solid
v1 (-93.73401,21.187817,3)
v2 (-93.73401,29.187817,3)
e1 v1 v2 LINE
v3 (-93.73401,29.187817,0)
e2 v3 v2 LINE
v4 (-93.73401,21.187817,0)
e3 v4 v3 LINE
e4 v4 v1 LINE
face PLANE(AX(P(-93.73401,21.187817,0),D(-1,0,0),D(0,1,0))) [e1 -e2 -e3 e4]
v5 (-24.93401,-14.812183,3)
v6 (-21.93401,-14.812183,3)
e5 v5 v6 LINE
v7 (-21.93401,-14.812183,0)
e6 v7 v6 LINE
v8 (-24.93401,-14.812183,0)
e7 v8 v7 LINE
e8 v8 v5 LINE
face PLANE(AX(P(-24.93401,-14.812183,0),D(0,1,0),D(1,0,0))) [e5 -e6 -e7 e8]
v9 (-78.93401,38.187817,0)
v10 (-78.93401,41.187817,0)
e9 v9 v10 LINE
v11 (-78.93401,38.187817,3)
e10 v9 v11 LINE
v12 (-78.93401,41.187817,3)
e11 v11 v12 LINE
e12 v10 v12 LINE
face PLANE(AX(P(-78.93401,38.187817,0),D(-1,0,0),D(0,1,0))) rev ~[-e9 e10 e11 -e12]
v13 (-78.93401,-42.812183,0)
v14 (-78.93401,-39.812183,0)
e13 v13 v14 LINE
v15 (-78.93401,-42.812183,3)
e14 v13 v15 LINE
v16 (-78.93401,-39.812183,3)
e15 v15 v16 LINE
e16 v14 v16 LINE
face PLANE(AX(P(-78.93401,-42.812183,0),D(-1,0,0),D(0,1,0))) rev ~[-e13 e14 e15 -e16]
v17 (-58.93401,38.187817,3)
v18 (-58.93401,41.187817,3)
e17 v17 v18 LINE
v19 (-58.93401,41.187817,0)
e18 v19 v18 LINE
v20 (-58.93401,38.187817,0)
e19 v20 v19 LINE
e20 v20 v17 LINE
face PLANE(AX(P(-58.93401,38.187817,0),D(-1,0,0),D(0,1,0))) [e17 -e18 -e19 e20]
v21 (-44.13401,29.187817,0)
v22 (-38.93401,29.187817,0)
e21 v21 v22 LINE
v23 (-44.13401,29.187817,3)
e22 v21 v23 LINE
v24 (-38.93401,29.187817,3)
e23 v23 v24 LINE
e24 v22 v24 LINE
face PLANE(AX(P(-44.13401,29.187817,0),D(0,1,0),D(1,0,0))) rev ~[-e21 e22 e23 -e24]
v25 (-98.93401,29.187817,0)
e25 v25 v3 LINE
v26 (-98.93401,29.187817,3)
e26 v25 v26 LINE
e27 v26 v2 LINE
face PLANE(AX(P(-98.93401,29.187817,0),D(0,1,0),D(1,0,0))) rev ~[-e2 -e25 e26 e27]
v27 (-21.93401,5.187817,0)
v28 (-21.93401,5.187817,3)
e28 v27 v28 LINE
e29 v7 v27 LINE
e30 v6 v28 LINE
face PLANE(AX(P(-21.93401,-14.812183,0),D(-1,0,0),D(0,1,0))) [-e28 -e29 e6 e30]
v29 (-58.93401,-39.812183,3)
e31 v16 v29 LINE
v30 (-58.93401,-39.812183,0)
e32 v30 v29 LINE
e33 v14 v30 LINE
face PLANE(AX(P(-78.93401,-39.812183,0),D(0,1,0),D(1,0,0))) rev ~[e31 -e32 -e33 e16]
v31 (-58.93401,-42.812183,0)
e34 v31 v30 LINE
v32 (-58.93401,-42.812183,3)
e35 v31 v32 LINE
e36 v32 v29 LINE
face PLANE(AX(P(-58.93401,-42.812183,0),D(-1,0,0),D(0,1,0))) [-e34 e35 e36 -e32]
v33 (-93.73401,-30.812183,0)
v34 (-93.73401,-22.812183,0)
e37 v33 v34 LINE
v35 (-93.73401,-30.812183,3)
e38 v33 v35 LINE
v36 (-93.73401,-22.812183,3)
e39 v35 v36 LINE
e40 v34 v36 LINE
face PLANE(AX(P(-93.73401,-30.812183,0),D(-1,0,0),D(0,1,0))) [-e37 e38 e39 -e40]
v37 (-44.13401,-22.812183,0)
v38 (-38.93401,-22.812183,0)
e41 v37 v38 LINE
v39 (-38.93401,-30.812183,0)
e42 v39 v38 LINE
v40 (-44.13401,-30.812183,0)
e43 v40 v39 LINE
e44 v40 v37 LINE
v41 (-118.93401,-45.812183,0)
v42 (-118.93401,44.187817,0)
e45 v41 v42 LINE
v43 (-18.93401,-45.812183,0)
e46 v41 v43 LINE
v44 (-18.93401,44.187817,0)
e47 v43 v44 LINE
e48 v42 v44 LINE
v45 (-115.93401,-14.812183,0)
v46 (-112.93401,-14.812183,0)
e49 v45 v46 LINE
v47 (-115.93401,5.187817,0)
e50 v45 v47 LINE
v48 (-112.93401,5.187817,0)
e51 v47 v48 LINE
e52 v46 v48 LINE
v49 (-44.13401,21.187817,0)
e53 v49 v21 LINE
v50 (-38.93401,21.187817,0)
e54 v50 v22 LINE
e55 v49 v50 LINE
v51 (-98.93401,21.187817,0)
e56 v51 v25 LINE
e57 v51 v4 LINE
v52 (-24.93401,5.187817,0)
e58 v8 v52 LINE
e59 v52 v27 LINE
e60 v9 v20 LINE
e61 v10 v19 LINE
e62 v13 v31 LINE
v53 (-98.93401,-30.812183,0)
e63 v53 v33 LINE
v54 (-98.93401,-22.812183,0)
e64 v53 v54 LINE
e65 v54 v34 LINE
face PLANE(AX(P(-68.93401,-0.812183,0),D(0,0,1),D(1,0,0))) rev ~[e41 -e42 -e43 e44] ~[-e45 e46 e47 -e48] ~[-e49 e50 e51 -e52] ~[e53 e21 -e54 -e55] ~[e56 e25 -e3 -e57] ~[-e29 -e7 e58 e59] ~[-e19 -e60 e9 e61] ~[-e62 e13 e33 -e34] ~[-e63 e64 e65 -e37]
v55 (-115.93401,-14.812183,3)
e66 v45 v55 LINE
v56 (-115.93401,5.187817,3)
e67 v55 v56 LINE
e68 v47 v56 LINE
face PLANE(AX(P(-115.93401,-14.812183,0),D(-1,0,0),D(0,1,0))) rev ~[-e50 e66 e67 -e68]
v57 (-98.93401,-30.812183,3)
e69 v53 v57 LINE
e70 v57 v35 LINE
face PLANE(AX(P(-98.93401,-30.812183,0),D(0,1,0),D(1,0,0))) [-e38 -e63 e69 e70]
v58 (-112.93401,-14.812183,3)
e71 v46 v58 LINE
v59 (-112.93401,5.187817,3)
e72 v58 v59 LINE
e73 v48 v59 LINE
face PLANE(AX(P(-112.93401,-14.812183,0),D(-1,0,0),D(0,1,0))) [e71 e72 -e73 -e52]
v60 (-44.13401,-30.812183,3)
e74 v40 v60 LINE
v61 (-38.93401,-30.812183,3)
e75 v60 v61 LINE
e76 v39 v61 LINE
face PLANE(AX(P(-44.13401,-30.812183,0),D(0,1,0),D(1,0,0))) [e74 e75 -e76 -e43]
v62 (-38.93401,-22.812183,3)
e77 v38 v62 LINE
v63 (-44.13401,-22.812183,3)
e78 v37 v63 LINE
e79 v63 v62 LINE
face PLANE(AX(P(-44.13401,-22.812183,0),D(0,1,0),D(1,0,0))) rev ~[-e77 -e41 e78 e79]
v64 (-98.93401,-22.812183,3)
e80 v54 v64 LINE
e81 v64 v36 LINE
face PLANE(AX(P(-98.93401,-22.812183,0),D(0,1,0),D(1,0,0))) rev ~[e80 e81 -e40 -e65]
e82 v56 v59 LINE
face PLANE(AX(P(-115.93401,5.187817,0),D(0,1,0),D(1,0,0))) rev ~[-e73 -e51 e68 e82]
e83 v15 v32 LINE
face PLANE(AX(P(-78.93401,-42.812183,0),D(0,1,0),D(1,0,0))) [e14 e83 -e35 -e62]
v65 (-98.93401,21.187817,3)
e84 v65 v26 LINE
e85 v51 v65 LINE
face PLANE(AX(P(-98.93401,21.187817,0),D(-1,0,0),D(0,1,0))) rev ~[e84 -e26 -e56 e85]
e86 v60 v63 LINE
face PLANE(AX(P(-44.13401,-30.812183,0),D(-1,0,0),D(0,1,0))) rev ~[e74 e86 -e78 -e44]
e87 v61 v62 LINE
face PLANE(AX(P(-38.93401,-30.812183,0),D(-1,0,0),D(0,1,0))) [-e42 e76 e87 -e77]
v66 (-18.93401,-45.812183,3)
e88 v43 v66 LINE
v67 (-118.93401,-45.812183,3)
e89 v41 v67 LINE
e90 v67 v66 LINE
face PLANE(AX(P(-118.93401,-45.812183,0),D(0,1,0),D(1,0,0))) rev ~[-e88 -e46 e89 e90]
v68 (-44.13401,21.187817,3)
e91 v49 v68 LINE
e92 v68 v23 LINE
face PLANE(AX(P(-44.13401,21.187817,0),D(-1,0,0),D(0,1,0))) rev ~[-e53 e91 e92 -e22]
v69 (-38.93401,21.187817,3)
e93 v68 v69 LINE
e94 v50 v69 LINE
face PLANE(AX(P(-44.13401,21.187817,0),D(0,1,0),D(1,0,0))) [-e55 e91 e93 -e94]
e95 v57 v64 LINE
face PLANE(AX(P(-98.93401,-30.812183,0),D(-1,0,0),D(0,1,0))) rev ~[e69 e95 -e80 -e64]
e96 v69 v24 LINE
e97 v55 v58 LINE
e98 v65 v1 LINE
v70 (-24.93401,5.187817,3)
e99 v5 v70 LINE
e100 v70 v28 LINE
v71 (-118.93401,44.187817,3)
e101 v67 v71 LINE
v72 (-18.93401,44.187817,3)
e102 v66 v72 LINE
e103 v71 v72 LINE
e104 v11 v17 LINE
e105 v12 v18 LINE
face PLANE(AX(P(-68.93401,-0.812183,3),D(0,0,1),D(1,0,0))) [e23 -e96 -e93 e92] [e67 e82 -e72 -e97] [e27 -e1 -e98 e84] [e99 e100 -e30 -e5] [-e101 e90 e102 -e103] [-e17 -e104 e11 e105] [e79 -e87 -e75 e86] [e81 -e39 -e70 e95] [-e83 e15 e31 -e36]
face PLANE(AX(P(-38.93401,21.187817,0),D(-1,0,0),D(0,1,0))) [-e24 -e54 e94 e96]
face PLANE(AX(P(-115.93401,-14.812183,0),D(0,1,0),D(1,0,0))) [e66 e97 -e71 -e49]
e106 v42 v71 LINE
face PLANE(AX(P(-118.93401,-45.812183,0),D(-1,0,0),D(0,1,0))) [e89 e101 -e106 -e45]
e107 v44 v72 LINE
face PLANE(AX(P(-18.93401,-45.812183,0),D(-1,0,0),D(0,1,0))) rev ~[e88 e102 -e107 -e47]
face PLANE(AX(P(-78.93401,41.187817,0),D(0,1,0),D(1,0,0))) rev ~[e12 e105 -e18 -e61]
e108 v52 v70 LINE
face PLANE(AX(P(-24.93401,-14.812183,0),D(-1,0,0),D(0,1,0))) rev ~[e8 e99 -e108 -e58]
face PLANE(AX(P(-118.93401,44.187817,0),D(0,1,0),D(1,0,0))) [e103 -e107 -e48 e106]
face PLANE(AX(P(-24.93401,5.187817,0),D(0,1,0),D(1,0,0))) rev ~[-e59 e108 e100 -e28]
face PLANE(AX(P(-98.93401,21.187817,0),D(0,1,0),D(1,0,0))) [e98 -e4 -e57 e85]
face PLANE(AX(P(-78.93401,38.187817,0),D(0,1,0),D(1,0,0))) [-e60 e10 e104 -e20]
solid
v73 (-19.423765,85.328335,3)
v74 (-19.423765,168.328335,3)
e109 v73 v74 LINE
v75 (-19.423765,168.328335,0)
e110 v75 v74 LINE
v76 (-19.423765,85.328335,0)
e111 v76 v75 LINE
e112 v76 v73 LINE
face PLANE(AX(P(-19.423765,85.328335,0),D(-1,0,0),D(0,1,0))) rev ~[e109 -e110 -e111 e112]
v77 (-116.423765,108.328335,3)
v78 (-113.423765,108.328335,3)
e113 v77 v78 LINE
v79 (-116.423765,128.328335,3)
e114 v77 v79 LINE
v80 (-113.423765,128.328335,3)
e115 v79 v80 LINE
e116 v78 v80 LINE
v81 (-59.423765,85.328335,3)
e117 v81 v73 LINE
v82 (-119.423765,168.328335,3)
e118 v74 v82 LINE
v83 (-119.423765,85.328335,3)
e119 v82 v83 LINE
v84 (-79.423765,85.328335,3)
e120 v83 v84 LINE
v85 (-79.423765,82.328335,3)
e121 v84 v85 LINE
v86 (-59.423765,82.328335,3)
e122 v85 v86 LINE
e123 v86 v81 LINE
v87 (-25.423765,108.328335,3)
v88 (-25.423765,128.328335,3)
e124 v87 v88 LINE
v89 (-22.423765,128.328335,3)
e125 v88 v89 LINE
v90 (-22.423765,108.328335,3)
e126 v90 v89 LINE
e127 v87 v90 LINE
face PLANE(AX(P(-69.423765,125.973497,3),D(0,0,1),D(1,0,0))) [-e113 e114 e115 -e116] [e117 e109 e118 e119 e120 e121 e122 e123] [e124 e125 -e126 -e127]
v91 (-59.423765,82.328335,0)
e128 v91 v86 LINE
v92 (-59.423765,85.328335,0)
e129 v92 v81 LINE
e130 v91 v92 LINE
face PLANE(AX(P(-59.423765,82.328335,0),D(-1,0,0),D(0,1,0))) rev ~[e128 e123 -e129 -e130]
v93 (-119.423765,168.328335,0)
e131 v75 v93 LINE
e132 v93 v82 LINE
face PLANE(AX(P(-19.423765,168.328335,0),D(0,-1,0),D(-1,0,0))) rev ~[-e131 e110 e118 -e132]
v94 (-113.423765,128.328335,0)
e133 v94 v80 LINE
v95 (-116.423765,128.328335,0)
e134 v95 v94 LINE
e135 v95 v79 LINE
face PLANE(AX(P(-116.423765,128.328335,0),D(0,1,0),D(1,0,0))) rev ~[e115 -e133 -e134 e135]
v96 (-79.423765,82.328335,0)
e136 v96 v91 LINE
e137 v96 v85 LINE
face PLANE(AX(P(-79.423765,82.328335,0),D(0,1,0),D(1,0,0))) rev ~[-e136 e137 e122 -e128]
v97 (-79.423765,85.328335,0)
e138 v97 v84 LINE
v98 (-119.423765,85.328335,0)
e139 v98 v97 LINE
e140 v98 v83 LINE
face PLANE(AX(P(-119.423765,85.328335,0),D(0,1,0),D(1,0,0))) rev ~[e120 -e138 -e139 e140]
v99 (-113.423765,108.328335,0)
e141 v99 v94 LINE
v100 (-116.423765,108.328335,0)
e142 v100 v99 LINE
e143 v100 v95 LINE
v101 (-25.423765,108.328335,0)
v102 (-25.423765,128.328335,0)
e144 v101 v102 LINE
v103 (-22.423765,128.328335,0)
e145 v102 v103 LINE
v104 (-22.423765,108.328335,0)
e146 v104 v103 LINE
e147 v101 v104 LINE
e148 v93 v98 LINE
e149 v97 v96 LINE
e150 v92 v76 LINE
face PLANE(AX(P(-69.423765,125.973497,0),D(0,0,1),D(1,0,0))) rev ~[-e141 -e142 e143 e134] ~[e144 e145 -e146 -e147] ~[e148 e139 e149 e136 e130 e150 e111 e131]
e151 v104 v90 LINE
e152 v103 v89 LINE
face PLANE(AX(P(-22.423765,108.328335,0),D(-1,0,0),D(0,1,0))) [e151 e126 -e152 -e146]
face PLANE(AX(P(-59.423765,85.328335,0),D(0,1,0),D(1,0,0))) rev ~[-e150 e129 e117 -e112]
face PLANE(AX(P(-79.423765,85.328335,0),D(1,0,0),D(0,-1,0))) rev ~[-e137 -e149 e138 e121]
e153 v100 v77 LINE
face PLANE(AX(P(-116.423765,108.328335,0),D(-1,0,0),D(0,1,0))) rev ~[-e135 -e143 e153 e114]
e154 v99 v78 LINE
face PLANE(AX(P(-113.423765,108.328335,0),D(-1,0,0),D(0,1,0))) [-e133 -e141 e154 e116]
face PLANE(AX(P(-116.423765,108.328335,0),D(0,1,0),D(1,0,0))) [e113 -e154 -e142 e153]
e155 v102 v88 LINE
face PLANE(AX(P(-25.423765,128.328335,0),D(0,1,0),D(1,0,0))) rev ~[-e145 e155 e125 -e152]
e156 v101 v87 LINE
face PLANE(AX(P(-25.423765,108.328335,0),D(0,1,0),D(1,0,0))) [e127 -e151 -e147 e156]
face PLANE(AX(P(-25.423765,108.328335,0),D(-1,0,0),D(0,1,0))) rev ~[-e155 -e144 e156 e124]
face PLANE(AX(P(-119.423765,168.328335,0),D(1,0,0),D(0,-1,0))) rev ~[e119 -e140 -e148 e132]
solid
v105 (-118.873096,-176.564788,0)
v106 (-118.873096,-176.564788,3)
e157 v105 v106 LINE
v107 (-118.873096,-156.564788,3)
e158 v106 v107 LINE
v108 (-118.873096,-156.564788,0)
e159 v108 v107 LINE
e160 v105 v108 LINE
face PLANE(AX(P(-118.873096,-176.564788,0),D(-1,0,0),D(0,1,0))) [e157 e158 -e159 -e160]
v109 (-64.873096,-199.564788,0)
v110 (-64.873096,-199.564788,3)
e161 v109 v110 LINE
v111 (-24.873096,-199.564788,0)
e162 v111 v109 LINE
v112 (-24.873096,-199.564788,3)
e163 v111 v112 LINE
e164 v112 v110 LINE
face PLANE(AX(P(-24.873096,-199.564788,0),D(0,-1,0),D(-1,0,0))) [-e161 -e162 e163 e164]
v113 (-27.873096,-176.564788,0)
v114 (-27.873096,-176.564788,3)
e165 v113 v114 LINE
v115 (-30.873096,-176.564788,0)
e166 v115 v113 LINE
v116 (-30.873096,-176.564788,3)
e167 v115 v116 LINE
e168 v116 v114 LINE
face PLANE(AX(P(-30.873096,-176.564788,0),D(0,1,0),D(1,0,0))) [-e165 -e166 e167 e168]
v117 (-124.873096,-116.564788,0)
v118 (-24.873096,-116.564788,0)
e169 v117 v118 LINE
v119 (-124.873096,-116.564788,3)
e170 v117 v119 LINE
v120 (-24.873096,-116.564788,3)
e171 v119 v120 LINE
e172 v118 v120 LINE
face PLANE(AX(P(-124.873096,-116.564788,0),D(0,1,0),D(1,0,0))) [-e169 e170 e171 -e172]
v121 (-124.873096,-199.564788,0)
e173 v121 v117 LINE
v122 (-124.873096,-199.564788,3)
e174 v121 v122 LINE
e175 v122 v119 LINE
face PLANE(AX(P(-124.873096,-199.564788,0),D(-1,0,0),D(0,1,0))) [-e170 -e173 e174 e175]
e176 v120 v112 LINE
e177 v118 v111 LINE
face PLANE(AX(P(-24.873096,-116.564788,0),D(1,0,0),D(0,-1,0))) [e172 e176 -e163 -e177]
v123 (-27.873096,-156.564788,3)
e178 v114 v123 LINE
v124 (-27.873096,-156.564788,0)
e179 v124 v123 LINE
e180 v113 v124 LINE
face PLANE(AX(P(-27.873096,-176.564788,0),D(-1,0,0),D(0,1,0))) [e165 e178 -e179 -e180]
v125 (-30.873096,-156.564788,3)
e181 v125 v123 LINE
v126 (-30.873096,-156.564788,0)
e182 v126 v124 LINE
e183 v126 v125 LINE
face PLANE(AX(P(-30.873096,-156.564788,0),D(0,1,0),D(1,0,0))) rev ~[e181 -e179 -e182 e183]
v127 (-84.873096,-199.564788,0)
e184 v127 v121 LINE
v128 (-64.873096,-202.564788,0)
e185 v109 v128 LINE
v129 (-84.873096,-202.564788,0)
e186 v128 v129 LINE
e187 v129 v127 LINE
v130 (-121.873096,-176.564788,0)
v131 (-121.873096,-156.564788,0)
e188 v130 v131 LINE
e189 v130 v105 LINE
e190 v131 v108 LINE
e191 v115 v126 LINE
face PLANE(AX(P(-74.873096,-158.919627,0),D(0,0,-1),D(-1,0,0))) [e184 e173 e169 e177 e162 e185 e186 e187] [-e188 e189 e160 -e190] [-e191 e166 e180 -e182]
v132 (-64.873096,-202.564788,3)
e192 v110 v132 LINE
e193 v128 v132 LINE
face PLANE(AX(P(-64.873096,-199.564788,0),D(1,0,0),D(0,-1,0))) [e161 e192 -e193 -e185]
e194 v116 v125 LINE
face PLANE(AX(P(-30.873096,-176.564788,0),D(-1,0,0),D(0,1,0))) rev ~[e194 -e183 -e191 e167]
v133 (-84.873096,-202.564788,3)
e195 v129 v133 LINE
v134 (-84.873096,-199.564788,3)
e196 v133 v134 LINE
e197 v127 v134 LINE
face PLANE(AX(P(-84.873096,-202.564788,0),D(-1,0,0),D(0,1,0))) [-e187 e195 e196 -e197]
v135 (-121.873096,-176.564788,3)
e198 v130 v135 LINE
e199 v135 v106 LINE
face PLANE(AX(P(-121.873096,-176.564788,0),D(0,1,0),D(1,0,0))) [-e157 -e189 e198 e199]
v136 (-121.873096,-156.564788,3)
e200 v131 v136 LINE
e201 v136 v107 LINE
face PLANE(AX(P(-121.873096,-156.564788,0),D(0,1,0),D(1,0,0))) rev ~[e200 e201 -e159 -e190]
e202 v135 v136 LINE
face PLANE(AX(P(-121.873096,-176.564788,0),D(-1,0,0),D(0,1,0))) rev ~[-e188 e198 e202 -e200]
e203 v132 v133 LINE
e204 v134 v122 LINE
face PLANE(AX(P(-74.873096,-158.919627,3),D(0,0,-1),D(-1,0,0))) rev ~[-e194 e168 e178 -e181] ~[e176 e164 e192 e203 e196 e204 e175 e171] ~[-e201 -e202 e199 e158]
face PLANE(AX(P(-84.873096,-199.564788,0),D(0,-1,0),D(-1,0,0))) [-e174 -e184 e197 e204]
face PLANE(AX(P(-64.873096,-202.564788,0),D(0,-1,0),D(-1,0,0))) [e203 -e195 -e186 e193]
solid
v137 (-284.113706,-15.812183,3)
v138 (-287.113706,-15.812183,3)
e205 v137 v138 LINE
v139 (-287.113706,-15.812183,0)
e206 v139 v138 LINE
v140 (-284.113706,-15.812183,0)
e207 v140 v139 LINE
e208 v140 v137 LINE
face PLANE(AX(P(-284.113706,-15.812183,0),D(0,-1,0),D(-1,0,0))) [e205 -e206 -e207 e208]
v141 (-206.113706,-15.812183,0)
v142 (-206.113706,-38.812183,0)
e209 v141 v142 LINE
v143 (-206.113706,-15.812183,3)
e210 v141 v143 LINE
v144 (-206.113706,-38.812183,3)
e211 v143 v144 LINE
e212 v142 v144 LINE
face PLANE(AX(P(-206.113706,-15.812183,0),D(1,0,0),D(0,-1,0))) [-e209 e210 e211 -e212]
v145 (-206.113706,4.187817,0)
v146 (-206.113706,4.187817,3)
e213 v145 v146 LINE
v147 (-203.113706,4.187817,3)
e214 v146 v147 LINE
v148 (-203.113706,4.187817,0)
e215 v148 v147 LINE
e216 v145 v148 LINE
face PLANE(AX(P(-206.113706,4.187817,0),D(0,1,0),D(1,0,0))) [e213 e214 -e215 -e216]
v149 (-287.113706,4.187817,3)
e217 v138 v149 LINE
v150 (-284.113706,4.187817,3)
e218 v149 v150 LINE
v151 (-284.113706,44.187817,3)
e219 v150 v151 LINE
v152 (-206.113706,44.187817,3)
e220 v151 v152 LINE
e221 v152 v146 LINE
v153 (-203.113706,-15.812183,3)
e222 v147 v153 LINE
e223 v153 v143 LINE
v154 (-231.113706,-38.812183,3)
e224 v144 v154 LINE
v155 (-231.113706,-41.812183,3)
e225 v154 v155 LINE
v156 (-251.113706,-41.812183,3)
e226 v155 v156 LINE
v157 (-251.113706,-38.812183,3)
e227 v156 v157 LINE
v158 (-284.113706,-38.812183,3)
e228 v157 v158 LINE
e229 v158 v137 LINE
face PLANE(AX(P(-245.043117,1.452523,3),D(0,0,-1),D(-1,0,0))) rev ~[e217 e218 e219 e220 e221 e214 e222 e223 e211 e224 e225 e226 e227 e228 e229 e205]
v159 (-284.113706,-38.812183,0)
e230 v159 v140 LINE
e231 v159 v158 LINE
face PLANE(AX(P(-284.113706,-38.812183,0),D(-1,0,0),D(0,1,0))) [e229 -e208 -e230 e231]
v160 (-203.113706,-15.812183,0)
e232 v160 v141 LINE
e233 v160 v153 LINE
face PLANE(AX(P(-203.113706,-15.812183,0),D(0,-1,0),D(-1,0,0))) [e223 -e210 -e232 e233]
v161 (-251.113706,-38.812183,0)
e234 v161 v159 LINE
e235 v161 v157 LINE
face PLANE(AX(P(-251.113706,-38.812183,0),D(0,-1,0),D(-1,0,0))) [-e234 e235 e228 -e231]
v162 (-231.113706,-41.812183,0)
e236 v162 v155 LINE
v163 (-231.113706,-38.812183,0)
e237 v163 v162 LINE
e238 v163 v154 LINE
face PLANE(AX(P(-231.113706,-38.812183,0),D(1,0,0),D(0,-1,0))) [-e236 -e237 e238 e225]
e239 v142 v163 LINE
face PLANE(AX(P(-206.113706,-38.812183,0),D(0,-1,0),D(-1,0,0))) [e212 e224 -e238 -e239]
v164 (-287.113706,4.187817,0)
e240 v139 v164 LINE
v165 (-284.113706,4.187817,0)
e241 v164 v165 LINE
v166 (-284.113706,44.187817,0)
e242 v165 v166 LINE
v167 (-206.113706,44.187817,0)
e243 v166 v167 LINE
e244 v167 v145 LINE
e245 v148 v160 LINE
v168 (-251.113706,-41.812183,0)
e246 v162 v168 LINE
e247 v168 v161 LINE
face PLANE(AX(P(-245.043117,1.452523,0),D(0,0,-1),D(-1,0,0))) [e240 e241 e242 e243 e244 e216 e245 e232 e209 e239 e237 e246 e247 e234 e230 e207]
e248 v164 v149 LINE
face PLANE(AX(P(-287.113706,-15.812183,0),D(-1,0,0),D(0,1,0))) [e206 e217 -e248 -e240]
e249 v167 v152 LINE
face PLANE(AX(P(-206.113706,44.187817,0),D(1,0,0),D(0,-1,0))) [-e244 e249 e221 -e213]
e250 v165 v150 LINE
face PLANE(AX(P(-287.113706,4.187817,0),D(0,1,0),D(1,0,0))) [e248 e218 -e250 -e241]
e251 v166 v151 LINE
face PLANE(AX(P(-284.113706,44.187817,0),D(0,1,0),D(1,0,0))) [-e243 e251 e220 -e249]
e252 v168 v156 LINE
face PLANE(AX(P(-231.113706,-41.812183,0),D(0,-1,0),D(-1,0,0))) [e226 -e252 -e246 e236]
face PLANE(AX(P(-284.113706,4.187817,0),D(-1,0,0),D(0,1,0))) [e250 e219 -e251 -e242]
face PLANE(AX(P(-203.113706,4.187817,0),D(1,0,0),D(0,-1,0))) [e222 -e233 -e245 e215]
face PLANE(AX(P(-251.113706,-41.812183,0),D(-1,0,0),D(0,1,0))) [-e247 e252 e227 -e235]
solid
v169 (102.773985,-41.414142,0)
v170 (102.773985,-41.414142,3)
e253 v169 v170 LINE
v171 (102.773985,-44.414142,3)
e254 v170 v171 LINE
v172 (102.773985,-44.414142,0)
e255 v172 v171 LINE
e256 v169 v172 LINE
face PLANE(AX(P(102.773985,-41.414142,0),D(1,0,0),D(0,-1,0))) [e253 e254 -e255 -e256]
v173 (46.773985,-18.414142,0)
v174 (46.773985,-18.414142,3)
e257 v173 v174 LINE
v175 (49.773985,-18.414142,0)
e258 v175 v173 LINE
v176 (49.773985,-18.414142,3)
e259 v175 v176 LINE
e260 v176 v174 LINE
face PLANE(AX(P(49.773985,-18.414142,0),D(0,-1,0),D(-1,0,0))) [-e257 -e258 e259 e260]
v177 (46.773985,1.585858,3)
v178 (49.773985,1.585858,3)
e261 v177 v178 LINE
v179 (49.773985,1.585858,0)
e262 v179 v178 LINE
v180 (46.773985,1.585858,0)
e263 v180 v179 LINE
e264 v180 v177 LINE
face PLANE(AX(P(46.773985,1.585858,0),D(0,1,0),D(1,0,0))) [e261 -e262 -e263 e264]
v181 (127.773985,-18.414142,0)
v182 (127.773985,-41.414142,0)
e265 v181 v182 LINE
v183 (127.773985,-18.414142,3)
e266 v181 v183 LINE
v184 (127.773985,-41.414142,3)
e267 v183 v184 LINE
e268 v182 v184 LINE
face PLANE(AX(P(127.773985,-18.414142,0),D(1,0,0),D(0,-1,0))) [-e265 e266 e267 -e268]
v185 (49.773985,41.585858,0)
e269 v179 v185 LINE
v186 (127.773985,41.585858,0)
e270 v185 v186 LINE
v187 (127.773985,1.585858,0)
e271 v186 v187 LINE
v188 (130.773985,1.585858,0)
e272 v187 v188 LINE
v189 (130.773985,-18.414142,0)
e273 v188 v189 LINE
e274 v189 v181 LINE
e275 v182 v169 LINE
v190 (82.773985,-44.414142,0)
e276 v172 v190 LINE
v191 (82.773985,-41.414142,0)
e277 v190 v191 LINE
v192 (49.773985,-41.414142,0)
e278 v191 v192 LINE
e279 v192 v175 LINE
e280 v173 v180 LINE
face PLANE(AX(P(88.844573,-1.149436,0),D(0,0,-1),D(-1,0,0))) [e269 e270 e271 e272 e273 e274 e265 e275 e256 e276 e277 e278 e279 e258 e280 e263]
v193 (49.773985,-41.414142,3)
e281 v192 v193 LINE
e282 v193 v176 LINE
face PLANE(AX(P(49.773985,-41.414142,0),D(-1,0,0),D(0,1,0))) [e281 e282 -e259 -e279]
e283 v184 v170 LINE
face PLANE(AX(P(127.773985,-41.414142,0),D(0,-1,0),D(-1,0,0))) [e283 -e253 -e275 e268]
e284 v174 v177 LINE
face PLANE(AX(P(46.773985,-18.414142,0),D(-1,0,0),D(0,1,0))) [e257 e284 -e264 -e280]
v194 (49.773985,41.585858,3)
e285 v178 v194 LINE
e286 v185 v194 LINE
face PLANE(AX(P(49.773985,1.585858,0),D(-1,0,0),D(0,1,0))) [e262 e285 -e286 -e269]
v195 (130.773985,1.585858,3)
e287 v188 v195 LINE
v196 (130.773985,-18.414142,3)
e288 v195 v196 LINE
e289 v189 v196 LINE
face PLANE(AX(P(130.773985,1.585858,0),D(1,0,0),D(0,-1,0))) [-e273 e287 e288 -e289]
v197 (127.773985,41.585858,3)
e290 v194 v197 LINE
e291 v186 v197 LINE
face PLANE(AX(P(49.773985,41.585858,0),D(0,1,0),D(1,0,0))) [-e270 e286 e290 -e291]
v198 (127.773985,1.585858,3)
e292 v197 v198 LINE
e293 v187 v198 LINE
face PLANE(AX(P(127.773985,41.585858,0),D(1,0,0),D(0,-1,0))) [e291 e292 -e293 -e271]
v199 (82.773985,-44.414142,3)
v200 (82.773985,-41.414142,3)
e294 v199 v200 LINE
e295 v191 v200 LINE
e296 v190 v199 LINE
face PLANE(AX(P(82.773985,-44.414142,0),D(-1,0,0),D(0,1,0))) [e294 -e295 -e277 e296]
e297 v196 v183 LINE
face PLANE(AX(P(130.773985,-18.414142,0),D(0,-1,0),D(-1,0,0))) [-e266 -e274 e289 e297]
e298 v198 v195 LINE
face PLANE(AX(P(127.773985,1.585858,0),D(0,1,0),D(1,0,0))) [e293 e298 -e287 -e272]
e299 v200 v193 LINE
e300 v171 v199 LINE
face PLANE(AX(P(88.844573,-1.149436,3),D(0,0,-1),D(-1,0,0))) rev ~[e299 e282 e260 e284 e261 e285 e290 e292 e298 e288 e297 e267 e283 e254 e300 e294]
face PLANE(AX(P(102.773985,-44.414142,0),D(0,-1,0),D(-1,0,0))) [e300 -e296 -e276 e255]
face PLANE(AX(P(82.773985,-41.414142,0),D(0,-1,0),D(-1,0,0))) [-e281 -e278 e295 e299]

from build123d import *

# Parameters (mm, degrees)
SKETCH_1_W        = 3
SKETCH_1_H        = 20
EXTRUDE_1_DEPTH   = 3
SKETCH_1_W_2      = 100
SKETCH_1_H_2      = 90
SKETCH_1_W_3      = 20
SKETCH_1_H_3      = 3
SKETCH_1_W_4      = 5.2
SKETCH_1_H_4      = 8
EXTRUDE_1_2_DEPTH = 3
EXTRUDE_1_3_DEPTH = 3
EXTRUDE_1_4_DEPTH = 3
EXTRUDE_1_5_DEPTH = 3


with BuildPart() as part:
    # Эскиз1 → Бобышка-Вытянуть1 (new body)
    with BuildSketch(Plane.XY):
        Polygon((-79.423765196, 85.328335351), (-79.423765196, 82.328335351), (-59.423765196, 82.328335351), (-59.423765196, 85.328335351), (-19.423765196, 85.328335351), (-19.423765196, 168.328335351), (-119.423765196, 168.328335351), (-119.423765196, 85.328335351), align=None)
        with Locations((-114.923765196, 118.328335351)):
            Rectangle(SKETCH_1_W, SKETCH_1_H, mode=Mode.SUBTRACT)
        with Locations((-23.923765196, 118.328335351)):
            Rectangle(SKETCH_1_W, SKETCH_1_H, mode=Mode.SUBTRACT)
    extrude(amount=EXTRUDE_1_DEPTH)


with BuildPart() as body_2:
    # Эскиз1 → Extrude 1 2 (new body)
    with BuildSketch(Plane.XY):
        with Locations((-68.934010152, -0.812182741)):
            Rectangle(SKETCH_1_W_2, SKETCH_1_H_2)
        with Locations((-68.934010152, 39.687817259)):
            Rectangle(SKETCH_1_W_3, SKETCH_1_H_3, mode=Mode.SUBTRACT)
        with Locations((-114.434010152, -4.812182741)):
            Rectangle(SKETCH_1_W, SKETCH_1_H, mode=Mode.SUBTRACT)
        with Locations((-68.934010152, -41.312182741)):
            Rectangle(SKETCH_1_W_3, SKETCH_1_H_3, mode=Mode.SUBTRACT)
        with Locations((-23.434010152, -4.812182741)):
            Rectangle(SKETCH_1_W, SKETCH_1_H, mode=Mode.SUBTRACT)
        with Locations((-96.334010152, -26.812182741)):
            Rectangle(SKETCH_1_W_4, SKETCH_1_H_4, mode=Mode.SUBTRACT)
        with Locations((-96.334010152, 25.187817259)):
            Rectangle(SKETCH_1_W_4, SKETCH_1_H_4, mode=Mode.SUBTRACT)
        with Locations((-41.534010152, -26.812182741)):
            Rectangle(SKETCH_1_W_4, SKETCH_1_H_4, mode=Mode.SUBTRACT)
        with Locations((-41.534010152, 25.187817259)):
            Rectangle(SKETCH_1_W_4, SKETCH_1_H_4, mode=Mode.SUBTRACT)
    extrude(amount=EXTRUDE_1_2_DEPTH)


with BuildPart() as body_3:
    # Эскиз1 → Extrude 1 3 (new body)
    with BuildSketch(Plane.XY):
        Polygon((-284.113705584, 44.187817259), (-206.113705584, 44.187817259), (-206.113705584, 4.187817259), (-203.113705584, 4.187817259), (-203.113705584, -15.812182741), (-206.113705584, -15.812182741), (-206.113705584, -38.812182741), (-231.113705584, -38.812182741), (-231.113705584, -41.812182741), (-251.113705584, -41.812182741), (-251.113705584, -38.812182741), (-284.113705584, -38.812182741), (-284.113705584, -15.812182741), (-287.113705584, -15.812182741), (-287.113705584, 4.187817259), (-284.113705584, 4.187817259), align=None)
    extrude(amount=EXTRUDE_1_3_DEPTH)


with BuildPart() as body_4:
    # Эскиз1 → Extrude 1 4 (new body)
    with BuildSketch(Plane.XY):
        Polygon((-124.873096447, -116.564787817), (-24.873096447, -116.564787817), (-24.873096447, -199.564787817), (-64.873096447, -199.564787817), (-64.873096447, -202.564787817), (-84.873096447, -202.564787817), (-84.873096447, -199.564787817), (-124.873096447, -199.564787817), align=None)
        with Locations((-120.373096447, -166.564787817)):
            Rectangle(SKETCH_1_W, SKETCH_1_H, mode=Mode.SUBTRACT)
        with Locations((-29.373096447, -166.564787817)):
            Rectangle(SKETCH_1_W, SKETCH_1_H, mode=Mode.SUBTRACT)
    extrude(amount=EXTRUDE_1_4_DEPTH)


with BuildPart() as body_5:
    # Эскиз1 → Extrude 1 5 (new body)
    with BuildSketch(Plane.XY):
        Polygon((49.773984997, 41.585858004), (127.773984997, 41.585858004), (127.773984997, 1.585858004), (130.773984997, 1.585858004), (130.773984997, -18.414141996), (127.773984997, -18.414141996), (127.773984997, -41.414141996), (102.773984997, -41.414141996), (102.773984997, -44.414141996), (82.773984997, -44.414141996), (82.773984997, -41.414141996), (49.773984997, -41.414141996), (49.773984997, -18.414141996), (46.773984997, -18.414141996), (46.773984997, 1.585858004), (49.773984997, 1.585858004), align=None)
    extrude(amount=EXTRUDE_1_5_DEPTH)


solid = Compound([part.part, body_2.part, body_3.part, body_4.part, body_5.part])
